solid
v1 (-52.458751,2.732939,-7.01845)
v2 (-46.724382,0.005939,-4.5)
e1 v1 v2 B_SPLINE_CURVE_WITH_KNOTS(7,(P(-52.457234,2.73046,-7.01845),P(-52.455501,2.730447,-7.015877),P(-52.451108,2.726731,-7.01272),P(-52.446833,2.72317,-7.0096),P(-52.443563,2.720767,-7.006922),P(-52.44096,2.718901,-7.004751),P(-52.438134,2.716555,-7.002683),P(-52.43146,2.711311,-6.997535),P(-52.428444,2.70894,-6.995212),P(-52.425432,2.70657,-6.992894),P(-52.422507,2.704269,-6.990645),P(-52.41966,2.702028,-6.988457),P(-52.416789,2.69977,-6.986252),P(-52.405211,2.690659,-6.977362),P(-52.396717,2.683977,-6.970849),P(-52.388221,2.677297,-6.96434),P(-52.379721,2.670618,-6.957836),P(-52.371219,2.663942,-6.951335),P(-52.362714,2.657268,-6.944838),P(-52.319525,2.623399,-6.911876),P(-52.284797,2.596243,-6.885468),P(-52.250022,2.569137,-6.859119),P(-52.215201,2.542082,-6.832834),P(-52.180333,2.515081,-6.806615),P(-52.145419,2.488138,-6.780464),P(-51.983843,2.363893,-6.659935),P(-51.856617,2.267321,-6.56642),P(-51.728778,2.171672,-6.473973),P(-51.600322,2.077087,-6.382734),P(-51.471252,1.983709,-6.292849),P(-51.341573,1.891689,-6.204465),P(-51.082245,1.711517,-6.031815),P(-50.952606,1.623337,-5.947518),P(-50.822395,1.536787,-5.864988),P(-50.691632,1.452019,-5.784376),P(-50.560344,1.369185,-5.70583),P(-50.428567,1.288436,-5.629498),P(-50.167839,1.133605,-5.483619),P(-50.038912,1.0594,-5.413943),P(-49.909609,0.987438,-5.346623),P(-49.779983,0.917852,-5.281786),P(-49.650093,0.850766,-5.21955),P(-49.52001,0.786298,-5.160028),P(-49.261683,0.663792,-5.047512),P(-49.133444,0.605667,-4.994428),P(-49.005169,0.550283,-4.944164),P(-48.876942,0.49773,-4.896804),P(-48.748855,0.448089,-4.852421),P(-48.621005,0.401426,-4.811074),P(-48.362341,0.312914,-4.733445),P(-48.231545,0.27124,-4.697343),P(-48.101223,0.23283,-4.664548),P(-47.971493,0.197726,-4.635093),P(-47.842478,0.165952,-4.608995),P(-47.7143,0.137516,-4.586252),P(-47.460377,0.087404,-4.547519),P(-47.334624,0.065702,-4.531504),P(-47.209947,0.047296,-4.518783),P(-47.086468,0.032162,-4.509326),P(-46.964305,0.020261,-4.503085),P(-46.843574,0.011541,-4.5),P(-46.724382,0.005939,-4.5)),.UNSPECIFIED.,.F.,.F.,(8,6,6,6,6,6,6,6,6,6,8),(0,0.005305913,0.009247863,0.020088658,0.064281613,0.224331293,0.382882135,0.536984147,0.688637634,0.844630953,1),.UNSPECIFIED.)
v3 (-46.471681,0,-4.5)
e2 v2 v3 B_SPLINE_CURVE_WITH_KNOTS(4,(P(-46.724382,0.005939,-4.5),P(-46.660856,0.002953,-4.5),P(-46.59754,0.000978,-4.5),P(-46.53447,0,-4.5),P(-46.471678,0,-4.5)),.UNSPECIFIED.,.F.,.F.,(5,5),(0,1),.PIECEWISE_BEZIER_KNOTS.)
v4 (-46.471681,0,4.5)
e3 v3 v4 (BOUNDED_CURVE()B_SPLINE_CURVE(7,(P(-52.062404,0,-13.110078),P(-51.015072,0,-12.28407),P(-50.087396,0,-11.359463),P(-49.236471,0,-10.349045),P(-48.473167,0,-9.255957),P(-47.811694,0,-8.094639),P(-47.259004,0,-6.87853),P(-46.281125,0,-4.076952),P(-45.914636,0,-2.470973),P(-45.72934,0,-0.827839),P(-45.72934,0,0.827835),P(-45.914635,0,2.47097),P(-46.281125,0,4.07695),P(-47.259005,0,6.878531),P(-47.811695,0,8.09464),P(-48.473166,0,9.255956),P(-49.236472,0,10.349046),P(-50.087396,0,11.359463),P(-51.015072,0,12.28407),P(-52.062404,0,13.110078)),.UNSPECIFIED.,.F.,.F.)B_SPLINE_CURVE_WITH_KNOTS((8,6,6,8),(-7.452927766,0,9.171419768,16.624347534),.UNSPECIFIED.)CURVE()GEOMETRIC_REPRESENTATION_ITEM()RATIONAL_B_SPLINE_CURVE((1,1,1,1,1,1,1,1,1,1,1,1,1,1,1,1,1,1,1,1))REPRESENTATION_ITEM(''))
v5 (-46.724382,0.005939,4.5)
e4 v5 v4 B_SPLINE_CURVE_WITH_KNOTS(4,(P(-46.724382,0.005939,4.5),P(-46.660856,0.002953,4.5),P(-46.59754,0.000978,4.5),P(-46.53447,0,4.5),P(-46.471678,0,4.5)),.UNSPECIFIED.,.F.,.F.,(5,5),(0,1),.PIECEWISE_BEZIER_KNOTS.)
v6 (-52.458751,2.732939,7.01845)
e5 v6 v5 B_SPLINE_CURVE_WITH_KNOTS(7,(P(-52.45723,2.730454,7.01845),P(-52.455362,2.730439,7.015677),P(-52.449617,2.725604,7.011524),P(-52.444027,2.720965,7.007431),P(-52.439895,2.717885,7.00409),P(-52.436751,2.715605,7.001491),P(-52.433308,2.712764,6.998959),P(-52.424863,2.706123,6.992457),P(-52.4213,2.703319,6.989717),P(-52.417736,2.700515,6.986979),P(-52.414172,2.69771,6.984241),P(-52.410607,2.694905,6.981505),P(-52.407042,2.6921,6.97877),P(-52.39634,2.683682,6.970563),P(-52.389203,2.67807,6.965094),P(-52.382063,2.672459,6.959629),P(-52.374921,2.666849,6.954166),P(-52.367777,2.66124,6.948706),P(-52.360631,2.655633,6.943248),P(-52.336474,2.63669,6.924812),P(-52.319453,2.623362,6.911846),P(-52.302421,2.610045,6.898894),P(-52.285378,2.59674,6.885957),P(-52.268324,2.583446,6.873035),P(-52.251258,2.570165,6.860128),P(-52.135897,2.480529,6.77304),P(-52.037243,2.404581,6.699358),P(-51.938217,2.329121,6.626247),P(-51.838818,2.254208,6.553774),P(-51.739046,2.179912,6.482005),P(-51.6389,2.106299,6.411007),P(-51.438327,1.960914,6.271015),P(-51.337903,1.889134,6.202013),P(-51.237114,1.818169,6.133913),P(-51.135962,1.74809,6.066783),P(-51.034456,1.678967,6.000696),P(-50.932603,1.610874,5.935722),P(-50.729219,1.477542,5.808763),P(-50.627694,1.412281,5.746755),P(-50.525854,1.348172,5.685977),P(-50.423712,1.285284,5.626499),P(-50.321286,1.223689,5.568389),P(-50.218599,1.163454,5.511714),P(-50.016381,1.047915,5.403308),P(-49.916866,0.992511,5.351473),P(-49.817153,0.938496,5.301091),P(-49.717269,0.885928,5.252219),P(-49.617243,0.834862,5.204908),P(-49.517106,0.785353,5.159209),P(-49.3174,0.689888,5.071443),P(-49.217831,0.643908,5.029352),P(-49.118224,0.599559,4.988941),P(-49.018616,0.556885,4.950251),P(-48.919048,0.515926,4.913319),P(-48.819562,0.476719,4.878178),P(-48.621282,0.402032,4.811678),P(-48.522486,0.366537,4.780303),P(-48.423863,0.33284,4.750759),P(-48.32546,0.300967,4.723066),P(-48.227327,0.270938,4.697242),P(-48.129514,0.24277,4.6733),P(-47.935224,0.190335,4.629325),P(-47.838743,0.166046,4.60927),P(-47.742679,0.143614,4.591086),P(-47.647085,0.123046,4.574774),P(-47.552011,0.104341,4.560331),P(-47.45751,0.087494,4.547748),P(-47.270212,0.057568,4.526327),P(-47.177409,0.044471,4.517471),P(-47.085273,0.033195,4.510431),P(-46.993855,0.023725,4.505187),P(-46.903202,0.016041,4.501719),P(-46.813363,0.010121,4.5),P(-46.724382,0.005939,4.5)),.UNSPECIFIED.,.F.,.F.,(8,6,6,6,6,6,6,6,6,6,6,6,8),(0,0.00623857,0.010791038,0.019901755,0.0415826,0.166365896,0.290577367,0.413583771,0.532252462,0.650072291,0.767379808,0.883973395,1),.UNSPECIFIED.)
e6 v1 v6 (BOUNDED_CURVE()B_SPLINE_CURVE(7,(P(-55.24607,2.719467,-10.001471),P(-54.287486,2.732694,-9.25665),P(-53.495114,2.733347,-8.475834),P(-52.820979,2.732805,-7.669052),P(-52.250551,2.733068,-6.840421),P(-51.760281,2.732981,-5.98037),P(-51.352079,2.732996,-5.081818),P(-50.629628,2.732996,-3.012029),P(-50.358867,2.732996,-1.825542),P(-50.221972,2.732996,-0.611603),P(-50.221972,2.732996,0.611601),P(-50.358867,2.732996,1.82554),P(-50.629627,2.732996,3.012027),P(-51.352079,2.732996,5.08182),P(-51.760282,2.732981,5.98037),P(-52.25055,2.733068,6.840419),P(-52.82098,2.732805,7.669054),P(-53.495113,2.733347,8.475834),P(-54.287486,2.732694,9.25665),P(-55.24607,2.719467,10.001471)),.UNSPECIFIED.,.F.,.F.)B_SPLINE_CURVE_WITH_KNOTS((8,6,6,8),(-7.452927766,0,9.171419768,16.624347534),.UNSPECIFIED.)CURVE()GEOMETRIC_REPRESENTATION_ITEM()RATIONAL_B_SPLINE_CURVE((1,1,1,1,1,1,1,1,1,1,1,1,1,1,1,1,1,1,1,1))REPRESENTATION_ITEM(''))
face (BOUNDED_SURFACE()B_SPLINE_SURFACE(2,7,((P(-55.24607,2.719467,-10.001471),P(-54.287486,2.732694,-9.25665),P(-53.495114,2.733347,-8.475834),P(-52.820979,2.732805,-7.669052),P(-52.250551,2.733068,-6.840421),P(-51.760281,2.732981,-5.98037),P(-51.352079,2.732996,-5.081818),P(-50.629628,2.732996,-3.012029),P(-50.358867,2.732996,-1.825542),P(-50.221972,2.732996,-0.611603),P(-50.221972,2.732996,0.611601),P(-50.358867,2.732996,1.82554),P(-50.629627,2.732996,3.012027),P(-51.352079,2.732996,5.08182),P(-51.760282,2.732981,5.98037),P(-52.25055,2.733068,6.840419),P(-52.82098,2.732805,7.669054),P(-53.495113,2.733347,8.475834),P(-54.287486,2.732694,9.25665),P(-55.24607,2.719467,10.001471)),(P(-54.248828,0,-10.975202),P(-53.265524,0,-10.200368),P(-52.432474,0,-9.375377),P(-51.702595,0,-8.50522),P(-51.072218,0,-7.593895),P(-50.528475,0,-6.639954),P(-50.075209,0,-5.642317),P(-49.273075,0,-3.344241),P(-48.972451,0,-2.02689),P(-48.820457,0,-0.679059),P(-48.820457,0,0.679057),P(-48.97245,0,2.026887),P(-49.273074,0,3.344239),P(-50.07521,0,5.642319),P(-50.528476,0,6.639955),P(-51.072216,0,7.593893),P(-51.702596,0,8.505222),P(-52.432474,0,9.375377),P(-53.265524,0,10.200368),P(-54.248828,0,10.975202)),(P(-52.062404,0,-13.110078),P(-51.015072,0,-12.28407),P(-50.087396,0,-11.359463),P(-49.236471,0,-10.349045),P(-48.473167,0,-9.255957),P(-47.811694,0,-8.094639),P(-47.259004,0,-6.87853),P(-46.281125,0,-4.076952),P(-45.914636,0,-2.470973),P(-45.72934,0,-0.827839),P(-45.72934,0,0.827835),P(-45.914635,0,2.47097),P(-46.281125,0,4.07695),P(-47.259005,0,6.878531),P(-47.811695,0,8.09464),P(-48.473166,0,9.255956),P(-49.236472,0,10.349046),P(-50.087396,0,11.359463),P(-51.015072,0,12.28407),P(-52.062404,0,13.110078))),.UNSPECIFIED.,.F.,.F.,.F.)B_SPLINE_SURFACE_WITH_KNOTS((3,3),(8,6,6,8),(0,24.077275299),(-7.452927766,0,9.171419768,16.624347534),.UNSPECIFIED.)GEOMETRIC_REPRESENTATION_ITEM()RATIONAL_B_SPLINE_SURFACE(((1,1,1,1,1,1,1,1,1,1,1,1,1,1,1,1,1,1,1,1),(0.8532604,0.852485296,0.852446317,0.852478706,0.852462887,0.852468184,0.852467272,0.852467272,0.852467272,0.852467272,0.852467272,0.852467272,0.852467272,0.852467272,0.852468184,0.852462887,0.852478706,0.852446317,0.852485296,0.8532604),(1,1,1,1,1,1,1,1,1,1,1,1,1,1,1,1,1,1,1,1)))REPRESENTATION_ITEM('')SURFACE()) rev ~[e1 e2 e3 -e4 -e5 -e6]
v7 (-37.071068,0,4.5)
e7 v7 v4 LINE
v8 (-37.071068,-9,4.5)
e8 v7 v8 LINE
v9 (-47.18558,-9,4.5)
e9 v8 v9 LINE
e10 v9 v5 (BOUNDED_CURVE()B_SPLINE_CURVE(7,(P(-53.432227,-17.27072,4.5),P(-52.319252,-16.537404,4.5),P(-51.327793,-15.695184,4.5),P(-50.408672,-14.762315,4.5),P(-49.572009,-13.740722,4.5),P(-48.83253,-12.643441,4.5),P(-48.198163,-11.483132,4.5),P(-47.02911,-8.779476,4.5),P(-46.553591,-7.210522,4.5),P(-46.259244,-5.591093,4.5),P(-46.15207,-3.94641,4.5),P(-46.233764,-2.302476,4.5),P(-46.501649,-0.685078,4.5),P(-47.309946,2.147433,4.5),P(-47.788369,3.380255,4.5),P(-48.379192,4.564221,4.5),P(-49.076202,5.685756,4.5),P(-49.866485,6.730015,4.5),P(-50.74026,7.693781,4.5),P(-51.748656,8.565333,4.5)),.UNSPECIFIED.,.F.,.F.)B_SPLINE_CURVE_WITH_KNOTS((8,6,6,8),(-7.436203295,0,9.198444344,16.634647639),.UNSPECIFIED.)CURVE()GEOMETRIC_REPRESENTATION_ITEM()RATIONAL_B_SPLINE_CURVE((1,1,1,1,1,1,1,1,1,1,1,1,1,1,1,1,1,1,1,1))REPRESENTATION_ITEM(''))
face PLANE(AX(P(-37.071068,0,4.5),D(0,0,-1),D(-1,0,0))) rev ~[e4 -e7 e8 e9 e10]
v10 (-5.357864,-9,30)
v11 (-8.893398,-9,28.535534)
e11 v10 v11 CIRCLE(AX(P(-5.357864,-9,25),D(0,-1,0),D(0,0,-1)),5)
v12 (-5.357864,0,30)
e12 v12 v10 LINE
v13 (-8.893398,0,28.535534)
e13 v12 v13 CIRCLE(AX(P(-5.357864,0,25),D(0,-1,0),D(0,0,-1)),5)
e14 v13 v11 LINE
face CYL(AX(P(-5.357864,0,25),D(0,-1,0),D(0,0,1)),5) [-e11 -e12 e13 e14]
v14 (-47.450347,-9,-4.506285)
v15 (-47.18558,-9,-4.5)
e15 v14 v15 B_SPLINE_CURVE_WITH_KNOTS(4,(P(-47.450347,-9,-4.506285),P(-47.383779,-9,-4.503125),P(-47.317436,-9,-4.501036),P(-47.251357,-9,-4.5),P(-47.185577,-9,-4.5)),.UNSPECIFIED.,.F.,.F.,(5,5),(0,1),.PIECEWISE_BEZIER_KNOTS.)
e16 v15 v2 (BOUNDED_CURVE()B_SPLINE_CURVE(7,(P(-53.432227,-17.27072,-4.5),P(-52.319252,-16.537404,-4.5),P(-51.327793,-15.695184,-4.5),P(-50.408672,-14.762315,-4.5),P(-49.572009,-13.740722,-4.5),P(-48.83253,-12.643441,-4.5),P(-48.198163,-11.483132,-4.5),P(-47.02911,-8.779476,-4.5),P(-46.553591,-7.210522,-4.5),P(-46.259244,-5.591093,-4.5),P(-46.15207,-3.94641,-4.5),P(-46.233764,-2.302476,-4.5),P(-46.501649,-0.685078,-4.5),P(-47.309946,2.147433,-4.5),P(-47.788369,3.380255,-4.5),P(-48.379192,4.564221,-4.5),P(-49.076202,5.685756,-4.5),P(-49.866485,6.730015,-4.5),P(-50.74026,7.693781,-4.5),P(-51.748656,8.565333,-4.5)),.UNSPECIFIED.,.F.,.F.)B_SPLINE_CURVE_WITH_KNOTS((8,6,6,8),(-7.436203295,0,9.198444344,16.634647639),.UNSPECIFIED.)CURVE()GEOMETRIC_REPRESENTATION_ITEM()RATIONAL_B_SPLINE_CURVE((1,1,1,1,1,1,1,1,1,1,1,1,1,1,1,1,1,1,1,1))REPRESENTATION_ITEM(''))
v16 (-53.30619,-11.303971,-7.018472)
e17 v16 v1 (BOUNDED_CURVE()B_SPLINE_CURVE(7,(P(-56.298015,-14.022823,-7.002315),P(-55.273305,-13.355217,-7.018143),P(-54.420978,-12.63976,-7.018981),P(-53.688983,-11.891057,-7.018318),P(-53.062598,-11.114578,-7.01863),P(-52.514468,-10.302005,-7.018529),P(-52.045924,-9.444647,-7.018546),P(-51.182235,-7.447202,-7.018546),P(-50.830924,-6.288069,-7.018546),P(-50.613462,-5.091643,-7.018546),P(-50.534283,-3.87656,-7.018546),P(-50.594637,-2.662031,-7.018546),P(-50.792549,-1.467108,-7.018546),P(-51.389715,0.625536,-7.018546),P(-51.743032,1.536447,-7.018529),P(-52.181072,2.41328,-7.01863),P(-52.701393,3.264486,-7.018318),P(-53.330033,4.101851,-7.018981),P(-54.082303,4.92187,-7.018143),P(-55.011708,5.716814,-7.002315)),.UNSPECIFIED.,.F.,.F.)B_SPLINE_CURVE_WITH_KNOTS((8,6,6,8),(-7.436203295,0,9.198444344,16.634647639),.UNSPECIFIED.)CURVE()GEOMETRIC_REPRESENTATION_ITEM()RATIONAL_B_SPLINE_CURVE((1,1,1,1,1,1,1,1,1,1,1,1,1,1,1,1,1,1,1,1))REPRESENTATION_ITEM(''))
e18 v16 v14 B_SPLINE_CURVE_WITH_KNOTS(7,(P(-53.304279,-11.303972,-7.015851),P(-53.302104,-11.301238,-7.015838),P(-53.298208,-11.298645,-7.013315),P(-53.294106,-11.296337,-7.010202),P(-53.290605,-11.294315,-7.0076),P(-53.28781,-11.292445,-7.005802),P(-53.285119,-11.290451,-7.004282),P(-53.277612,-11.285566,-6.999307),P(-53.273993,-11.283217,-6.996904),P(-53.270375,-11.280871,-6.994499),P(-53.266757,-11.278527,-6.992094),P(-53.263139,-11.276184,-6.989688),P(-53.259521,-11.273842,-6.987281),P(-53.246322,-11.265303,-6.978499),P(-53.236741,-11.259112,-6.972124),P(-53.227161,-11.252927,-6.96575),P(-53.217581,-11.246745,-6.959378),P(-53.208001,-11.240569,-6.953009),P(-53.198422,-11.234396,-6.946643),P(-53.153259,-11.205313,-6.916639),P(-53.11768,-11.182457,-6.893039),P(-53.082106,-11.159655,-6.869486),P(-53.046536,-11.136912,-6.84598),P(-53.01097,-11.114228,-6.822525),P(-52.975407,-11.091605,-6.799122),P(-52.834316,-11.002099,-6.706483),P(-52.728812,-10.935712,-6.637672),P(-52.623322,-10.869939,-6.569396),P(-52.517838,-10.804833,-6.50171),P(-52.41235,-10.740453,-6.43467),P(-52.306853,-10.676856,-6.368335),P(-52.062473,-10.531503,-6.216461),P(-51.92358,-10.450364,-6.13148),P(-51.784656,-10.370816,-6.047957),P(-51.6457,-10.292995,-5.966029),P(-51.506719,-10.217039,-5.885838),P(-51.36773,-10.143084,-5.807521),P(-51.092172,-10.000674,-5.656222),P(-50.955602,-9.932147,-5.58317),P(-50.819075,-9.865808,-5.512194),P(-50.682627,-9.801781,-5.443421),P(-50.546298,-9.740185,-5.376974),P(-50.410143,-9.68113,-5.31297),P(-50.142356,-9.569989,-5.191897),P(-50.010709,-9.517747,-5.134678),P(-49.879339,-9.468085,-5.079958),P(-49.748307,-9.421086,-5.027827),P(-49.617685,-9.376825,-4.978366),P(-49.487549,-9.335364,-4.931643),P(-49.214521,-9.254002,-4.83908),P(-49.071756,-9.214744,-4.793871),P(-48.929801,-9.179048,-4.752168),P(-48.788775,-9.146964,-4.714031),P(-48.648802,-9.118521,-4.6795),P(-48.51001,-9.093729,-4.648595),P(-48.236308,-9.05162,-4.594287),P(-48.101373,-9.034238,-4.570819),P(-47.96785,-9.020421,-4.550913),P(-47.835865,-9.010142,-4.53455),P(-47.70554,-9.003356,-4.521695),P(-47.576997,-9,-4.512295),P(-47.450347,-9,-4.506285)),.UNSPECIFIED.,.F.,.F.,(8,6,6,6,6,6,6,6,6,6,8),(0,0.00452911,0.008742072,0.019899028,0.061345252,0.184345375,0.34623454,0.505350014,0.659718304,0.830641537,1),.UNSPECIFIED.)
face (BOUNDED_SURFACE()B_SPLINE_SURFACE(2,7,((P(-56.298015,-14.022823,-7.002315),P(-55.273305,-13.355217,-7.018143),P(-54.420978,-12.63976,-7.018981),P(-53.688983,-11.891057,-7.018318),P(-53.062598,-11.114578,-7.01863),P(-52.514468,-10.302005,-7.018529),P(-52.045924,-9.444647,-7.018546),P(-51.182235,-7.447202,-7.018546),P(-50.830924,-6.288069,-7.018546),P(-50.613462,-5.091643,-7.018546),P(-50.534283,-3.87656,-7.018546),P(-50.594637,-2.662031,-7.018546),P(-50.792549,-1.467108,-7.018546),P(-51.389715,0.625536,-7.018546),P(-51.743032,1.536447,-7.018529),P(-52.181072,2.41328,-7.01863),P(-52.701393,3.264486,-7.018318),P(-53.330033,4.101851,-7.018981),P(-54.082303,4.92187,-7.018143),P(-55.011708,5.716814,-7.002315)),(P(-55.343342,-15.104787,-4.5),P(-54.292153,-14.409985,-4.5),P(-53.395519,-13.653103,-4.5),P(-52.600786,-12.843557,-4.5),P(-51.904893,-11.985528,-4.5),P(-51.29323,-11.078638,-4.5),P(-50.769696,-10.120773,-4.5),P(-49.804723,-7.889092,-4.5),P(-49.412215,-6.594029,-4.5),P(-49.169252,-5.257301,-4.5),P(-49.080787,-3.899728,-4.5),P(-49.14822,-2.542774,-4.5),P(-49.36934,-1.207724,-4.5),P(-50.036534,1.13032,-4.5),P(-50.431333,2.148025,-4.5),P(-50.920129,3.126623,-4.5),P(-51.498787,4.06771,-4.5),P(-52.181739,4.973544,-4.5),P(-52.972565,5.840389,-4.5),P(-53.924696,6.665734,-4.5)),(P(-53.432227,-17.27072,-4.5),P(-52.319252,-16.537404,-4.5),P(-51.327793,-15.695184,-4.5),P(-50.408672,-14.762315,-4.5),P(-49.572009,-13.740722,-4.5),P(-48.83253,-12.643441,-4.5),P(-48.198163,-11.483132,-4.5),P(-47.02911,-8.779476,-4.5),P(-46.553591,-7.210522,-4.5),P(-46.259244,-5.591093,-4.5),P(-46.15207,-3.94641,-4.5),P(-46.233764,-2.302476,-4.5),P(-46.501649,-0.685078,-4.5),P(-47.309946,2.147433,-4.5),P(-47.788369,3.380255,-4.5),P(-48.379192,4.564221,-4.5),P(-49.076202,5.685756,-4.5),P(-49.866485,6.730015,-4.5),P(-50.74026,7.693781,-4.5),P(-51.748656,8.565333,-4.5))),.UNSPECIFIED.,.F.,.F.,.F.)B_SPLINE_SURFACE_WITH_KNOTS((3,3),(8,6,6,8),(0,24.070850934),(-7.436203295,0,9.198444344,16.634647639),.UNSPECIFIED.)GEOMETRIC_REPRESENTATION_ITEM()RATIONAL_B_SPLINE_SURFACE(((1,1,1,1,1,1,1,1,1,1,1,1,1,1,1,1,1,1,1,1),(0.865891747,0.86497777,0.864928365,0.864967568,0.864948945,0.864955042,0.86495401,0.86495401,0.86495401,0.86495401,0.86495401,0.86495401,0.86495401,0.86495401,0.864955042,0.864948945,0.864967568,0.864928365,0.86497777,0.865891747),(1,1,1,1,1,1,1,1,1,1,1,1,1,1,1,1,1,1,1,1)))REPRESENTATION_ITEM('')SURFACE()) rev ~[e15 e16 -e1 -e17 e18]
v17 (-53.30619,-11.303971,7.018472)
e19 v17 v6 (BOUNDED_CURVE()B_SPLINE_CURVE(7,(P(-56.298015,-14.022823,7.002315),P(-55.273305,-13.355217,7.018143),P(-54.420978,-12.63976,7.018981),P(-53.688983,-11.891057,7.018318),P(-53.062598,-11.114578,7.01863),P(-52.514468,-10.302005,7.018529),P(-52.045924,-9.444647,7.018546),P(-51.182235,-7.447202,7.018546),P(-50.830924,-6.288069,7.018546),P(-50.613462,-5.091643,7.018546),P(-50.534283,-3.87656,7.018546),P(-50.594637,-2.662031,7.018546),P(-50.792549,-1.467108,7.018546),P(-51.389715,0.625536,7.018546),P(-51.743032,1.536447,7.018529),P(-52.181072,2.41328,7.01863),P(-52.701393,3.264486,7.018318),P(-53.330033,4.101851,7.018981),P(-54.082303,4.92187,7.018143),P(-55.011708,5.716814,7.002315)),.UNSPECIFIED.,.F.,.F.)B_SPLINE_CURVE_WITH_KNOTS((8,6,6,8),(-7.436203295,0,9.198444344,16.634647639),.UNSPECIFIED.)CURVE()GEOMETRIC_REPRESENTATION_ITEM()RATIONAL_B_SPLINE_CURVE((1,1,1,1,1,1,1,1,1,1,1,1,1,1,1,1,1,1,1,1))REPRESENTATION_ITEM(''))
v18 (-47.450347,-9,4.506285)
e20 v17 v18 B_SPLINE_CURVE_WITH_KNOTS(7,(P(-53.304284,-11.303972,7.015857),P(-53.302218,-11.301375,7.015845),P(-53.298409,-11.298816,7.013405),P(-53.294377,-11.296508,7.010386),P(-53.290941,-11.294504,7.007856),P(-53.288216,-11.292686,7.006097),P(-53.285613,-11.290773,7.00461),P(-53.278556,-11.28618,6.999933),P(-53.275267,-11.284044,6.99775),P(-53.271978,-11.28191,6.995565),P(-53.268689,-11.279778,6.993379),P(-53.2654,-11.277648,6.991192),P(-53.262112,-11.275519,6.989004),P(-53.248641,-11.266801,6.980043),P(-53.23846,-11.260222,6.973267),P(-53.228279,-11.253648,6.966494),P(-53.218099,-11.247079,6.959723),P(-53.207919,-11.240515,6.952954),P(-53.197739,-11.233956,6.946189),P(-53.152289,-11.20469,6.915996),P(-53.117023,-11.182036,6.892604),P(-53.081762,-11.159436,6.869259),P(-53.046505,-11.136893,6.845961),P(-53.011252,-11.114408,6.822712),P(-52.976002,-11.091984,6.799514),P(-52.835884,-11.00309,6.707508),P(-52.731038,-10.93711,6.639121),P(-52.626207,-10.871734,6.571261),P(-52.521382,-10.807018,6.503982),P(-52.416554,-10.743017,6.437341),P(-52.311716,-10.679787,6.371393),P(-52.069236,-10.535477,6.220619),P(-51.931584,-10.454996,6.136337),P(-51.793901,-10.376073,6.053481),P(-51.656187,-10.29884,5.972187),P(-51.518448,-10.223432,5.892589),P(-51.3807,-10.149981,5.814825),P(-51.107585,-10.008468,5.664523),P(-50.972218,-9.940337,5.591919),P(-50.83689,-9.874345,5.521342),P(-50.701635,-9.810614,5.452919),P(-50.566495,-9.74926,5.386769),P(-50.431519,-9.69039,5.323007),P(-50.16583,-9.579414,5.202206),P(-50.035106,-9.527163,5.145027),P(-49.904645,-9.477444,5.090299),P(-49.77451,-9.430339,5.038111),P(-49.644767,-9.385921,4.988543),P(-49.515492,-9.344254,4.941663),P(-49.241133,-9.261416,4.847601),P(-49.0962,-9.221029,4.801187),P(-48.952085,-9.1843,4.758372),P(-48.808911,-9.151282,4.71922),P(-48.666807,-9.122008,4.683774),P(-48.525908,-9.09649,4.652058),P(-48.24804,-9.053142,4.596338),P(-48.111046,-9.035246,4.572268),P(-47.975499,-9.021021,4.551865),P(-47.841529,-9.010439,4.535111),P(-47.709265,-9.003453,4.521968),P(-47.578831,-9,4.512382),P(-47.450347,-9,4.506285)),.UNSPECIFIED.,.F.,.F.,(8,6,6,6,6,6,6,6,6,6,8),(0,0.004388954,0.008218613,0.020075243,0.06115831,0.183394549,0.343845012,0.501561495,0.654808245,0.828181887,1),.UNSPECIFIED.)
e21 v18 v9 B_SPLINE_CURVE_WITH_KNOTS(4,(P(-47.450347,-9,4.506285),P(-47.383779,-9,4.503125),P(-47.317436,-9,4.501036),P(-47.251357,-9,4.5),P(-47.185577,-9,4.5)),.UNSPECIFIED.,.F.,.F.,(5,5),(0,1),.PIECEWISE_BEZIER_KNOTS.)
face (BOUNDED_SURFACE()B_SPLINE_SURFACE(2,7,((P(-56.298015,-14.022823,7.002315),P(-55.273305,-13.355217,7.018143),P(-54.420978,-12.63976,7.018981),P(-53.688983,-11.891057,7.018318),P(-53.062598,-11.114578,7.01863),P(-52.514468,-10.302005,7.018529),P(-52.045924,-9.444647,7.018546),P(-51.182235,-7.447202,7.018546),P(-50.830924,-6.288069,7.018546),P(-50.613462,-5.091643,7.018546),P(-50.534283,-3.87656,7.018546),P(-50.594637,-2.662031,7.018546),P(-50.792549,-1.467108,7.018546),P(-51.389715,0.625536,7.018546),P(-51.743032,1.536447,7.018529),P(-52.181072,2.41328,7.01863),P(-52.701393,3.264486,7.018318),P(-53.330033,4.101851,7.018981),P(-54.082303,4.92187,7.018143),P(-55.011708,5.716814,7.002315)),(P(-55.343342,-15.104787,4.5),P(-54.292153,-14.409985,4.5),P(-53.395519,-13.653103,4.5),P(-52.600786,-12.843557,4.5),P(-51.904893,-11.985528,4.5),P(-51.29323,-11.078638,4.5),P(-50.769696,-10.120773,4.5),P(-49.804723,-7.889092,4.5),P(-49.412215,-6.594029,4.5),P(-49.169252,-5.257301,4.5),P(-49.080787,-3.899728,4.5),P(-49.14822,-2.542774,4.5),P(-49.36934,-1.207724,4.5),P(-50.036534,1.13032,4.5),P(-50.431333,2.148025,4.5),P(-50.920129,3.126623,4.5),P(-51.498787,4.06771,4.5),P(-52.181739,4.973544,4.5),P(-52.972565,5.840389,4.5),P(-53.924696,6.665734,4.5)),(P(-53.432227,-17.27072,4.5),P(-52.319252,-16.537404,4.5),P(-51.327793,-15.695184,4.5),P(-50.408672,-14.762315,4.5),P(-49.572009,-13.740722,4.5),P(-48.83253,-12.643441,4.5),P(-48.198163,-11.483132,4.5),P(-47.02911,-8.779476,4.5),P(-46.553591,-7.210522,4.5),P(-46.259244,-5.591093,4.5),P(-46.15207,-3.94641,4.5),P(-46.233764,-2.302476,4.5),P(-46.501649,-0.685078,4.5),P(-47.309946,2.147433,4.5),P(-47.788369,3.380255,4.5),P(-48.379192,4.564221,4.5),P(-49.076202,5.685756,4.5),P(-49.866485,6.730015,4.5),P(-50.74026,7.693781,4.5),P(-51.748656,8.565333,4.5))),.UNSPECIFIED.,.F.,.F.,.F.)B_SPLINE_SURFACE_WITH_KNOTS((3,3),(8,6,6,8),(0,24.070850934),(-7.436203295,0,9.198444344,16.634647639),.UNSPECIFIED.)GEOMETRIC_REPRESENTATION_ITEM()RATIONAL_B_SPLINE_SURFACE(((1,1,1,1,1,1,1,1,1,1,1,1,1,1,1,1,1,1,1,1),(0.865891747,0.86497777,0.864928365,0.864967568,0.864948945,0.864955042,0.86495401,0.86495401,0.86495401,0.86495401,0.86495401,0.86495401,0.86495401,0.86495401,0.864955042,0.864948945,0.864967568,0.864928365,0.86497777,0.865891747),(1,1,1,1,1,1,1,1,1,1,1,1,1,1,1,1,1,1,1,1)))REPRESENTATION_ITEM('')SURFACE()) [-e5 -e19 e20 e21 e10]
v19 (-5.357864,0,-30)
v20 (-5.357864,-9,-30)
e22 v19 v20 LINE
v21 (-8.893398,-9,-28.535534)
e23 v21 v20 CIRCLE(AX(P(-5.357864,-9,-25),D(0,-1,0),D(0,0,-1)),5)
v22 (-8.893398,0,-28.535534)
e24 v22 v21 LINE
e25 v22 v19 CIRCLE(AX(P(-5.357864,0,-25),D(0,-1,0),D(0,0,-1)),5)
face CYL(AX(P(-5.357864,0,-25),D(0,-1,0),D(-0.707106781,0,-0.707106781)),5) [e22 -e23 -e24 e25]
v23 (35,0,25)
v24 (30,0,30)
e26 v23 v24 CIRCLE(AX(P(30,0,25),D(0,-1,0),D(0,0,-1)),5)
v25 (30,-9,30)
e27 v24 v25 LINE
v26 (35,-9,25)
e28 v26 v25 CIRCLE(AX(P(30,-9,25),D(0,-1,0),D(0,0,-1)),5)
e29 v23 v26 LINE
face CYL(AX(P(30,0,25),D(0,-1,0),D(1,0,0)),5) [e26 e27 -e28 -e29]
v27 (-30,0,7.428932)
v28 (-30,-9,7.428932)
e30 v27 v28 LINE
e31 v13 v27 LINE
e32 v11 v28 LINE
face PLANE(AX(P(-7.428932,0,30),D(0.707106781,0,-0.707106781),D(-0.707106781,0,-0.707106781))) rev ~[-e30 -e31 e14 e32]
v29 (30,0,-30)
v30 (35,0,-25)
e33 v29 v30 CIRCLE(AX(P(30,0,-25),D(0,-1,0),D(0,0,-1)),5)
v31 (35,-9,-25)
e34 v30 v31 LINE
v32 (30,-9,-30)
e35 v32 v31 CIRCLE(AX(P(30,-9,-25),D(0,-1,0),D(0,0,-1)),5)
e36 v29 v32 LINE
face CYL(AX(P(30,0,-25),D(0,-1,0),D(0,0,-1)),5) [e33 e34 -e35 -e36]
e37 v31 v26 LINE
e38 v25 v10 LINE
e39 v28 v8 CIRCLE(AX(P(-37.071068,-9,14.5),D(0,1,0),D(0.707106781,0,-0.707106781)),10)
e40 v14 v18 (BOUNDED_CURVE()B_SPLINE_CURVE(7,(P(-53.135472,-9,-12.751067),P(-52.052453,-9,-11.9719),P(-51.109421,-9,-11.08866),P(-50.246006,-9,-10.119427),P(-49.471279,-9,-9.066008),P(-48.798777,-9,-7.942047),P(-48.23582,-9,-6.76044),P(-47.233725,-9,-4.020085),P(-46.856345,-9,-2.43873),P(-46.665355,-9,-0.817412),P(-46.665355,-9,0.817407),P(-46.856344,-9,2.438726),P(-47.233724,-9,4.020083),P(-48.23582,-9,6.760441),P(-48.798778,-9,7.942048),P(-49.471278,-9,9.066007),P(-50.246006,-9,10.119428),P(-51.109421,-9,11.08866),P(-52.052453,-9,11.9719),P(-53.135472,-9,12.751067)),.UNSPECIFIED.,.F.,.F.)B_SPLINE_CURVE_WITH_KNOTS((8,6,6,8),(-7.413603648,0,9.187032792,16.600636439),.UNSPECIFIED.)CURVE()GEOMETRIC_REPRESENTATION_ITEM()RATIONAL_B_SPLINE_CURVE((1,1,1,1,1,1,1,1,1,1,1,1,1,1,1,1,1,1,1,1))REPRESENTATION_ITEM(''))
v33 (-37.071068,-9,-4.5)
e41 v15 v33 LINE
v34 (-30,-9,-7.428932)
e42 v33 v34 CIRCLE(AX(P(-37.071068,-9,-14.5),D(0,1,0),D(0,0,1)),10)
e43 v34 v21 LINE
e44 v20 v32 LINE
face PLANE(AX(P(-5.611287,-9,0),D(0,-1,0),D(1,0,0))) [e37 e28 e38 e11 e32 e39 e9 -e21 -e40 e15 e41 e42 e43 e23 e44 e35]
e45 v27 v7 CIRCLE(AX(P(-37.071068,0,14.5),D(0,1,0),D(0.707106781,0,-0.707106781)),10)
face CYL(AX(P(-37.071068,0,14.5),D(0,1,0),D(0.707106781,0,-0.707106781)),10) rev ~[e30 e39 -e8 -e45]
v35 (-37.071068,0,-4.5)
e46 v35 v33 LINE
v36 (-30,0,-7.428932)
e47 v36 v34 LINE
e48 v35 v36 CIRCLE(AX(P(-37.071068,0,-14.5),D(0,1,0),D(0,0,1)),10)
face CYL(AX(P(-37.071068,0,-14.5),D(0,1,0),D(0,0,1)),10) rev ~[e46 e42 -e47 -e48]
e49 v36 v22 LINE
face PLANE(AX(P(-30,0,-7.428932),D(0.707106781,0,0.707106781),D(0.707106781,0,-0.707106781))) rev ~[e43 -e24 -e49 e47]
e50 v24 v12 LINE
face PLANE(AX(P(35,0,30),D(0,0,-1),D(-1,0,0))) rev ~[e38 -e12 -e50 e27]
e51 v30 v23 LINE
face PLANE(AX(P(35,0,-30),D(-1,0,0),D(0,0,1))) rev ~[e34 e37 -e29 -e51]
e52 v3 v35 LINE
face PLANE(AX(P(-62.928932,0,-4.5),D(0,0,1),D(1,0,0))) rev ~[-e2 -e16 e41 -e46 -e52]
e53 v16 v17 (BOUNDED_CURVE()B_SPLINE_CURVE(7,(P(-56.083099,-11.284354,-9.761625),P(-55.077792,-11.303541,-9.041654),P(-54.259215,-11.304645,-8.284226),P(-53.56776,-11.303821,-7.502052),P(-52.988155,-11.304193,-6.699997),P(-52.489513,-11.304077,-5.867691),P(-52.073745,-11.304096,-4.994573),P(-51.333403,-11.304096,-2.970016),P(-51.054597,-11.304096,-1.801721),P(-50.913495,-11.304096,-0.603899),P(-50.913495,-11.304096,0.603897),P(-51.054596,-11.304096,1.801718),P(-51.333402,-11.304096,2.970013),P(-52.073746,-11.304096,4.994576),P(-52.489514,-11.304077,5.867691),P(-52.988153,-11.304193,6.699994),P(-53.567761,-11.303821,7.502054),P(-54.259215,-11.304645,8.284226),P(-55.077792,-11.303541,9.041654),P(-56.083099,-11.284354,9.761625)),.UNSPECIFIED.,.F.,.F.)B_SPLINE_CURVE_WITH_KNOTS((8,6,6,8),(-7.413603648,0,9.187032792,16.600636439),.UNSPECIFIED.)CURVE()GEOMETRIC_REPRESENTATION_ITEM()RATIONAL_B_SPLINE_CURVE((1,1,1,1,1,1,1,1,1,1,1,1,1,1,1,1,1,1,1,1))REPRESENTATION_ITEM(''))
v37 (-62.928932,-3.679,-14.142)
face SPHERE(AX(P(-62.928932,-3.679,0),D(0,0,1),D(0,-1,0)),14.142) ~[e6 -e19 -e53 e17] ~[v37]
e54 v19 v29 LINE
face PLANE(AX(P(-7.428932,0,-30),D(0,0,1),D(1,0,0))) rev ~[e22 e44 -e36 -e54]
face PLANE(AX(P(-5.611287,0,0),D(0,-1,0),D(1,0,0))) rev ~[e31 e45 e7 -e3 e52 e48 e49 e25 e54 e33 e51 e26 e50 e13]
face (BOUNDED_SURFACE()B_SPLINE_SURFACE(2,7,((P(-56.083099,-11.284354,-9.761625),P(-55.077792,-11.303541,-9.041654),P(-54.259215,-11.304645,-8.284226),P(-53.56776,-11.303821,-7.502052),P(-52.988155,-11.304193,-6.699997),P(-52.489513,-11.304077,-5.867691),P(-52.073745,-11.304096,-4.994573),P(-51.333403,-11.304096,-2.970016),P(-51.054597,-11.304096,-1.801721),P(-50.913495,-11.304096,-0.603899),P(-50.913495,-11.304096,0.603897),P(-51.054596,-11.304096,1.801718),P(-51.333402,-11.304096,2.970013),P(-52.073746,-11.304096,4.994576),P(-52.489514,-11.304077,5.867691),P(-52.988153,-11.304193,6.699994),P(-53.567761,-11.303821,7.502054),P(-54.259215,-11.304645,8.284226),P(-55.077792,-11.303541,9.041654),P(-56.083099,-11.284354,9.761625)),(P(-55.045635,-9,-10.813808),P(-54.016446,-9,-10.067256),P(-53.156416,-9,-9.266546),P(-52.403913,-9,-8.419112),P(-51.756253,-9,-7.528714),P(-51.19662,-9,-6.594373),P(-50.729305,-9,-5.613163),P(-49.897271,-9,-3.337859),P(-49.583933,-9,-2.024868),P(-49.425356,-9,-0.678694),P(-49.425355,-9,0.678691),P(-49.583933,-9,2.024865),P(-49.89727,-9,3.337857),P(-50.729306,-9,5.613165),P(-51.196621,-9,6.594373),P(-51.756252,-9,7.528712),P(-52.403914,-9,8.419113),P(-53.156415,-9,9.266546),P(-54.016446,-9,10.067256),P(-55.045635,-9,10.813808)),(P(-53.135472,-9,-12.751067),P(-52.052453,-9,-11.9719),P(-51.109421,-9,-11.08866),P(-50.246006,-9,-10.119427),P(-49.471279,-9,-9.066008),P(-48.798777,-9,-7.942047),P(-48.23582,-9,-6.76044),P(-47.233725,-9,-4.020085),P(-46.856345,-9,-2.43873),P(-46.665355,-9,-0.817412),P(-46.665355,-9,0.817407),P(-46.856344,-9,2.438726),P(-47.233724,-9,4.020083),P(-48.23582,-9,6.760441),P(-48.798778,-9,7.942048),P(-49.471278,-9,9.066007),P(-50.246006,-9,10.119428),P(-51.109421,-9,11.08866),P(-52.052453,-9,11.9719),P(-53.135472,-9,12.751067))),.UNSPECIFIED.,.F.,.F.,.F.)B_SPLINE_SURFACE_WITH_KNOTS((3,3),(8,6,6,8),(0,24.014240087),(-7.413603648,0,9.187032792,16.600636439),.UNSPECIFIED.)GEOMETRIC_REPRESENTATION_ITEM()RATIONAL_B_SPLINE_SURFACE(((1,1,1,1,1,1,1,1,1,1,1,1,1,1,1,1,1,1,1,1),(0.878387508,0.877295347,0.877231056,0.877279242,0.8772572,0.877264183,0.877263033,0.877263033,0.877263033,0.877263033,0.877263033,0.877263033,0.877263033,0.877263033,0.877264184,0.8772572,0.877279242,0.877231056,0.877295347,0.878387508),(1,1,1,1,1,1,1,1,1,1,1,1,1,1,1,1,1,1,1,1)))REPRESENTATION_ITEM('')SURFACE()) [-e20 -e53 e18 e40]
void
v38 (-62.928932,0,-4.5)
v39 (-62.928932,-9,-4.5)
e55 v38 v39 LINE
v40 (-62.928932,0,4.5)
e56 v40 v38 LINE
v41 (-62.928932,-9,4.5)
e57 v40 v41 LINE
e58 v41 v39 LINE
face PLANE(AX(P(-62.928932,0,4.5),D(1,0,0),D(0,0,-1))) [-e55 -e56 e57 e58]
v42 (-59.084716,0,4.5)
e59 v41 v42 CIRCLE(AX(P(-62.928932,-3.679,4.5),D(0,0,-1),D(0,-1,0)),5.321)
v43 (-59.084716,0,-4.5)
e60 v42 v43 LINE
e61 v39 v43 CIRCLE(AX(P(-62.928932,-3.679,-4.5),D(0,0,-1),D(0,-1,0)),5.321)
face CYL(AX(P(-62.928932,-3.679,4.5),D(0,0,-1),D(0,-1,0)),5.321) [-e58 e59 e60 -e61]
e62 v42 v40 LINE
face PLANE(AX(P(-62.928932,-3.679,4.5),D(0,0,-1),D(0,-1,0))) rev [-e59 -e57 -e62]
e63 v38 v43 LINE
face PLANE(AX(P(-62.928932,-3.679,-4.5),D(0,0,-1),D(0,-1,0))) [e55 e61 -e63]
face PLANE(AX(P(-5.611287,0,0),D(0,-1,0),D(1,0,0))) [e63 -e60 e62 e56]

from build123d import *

# Parameters (mm, degrees)
F1_DEPTH = 9
F4_R     = 5
F5_R     = 5


with BuildPart() as f1:
    # F0 (on Front) → F1 (new body)
    with BuildSketch(Plane.XZ):
        with BuildLine():
            Line((35, -30), (35, 30))
            Line((35, 30), (-7.4289321881, 30))
            Line((-7.4289321881, 30), (-30, 7.4289321881))
            ThreePointArc((-30, 7.4289321881), (-33.2442334882, 5.2612046749), (-37.0710678119, 4.5))
            Line((-37.0710678119, 4.5), (-62.9289321881, 4.5))
            Line((-62.9289321881, 4.5), (-62.9289321881, -4.5))
            Line((-62.9289321881, -4.5), (-37.0710678119, -4.5))
            ThreePointArc((-37.0710678119, -4.5), (-33.2442334882, -5.2612046749), (-30, -7.4289321881))
            Line((-30, -7.4289321881), (-7.4289321881, -30))
            Line((-7.4289321881, -30), (35, -30))
        make_face()
    extrude(amount=F1_DEPTH)

    # F2 (on face) → F3 (revolve)
    with BuildSketch(Plane(origin=(-62.9289321881, 0, 0), x_dir=(0, -1, 0), z_dir=(-1, 0, 0))):
        with BuildLine():
            Line((3.679, -4.5), (3.679, -14.142))
            ThreePointArc((3.679, -14.142), (17.821, 0), (3.679, 14.142))
            Line((3.679, 14.142), (3.679, 4.5))
            Line((3.679, 4.5), (9, 4.5))
            Line((9, 4.5), (9, -4.5))
            Line((9, -4.5), (3.679, -4.5))
        make_face()
    revolve(axis=Axis((-62.9289321881, -3.679, 0), (0, 0, -1)))

    # F4
    f4_edges = [f1.edges().sort_by_distance(p)[0] for p in [
        (-49.550362, -4.550796, 4.5),
        (-49.273855, 0, 0),
        (-49.550362, -4.550796, -4.5),
        (-49.826142, -9, 0),
    ]]
    fillet(f4_edges, radius=F4_R)

    # F5
    f5_edges = [f1.edges().sort_by_distance(p)[0] for p in [
        (35, -4.5, -30),
        (35, -4.5, 30),
        (-7.428932, -4.5, 30),
        (-7.428932, -4.5, -30),
    ]]
    fillet(f5_edges, radius=F5_R)


solid = f1.part
